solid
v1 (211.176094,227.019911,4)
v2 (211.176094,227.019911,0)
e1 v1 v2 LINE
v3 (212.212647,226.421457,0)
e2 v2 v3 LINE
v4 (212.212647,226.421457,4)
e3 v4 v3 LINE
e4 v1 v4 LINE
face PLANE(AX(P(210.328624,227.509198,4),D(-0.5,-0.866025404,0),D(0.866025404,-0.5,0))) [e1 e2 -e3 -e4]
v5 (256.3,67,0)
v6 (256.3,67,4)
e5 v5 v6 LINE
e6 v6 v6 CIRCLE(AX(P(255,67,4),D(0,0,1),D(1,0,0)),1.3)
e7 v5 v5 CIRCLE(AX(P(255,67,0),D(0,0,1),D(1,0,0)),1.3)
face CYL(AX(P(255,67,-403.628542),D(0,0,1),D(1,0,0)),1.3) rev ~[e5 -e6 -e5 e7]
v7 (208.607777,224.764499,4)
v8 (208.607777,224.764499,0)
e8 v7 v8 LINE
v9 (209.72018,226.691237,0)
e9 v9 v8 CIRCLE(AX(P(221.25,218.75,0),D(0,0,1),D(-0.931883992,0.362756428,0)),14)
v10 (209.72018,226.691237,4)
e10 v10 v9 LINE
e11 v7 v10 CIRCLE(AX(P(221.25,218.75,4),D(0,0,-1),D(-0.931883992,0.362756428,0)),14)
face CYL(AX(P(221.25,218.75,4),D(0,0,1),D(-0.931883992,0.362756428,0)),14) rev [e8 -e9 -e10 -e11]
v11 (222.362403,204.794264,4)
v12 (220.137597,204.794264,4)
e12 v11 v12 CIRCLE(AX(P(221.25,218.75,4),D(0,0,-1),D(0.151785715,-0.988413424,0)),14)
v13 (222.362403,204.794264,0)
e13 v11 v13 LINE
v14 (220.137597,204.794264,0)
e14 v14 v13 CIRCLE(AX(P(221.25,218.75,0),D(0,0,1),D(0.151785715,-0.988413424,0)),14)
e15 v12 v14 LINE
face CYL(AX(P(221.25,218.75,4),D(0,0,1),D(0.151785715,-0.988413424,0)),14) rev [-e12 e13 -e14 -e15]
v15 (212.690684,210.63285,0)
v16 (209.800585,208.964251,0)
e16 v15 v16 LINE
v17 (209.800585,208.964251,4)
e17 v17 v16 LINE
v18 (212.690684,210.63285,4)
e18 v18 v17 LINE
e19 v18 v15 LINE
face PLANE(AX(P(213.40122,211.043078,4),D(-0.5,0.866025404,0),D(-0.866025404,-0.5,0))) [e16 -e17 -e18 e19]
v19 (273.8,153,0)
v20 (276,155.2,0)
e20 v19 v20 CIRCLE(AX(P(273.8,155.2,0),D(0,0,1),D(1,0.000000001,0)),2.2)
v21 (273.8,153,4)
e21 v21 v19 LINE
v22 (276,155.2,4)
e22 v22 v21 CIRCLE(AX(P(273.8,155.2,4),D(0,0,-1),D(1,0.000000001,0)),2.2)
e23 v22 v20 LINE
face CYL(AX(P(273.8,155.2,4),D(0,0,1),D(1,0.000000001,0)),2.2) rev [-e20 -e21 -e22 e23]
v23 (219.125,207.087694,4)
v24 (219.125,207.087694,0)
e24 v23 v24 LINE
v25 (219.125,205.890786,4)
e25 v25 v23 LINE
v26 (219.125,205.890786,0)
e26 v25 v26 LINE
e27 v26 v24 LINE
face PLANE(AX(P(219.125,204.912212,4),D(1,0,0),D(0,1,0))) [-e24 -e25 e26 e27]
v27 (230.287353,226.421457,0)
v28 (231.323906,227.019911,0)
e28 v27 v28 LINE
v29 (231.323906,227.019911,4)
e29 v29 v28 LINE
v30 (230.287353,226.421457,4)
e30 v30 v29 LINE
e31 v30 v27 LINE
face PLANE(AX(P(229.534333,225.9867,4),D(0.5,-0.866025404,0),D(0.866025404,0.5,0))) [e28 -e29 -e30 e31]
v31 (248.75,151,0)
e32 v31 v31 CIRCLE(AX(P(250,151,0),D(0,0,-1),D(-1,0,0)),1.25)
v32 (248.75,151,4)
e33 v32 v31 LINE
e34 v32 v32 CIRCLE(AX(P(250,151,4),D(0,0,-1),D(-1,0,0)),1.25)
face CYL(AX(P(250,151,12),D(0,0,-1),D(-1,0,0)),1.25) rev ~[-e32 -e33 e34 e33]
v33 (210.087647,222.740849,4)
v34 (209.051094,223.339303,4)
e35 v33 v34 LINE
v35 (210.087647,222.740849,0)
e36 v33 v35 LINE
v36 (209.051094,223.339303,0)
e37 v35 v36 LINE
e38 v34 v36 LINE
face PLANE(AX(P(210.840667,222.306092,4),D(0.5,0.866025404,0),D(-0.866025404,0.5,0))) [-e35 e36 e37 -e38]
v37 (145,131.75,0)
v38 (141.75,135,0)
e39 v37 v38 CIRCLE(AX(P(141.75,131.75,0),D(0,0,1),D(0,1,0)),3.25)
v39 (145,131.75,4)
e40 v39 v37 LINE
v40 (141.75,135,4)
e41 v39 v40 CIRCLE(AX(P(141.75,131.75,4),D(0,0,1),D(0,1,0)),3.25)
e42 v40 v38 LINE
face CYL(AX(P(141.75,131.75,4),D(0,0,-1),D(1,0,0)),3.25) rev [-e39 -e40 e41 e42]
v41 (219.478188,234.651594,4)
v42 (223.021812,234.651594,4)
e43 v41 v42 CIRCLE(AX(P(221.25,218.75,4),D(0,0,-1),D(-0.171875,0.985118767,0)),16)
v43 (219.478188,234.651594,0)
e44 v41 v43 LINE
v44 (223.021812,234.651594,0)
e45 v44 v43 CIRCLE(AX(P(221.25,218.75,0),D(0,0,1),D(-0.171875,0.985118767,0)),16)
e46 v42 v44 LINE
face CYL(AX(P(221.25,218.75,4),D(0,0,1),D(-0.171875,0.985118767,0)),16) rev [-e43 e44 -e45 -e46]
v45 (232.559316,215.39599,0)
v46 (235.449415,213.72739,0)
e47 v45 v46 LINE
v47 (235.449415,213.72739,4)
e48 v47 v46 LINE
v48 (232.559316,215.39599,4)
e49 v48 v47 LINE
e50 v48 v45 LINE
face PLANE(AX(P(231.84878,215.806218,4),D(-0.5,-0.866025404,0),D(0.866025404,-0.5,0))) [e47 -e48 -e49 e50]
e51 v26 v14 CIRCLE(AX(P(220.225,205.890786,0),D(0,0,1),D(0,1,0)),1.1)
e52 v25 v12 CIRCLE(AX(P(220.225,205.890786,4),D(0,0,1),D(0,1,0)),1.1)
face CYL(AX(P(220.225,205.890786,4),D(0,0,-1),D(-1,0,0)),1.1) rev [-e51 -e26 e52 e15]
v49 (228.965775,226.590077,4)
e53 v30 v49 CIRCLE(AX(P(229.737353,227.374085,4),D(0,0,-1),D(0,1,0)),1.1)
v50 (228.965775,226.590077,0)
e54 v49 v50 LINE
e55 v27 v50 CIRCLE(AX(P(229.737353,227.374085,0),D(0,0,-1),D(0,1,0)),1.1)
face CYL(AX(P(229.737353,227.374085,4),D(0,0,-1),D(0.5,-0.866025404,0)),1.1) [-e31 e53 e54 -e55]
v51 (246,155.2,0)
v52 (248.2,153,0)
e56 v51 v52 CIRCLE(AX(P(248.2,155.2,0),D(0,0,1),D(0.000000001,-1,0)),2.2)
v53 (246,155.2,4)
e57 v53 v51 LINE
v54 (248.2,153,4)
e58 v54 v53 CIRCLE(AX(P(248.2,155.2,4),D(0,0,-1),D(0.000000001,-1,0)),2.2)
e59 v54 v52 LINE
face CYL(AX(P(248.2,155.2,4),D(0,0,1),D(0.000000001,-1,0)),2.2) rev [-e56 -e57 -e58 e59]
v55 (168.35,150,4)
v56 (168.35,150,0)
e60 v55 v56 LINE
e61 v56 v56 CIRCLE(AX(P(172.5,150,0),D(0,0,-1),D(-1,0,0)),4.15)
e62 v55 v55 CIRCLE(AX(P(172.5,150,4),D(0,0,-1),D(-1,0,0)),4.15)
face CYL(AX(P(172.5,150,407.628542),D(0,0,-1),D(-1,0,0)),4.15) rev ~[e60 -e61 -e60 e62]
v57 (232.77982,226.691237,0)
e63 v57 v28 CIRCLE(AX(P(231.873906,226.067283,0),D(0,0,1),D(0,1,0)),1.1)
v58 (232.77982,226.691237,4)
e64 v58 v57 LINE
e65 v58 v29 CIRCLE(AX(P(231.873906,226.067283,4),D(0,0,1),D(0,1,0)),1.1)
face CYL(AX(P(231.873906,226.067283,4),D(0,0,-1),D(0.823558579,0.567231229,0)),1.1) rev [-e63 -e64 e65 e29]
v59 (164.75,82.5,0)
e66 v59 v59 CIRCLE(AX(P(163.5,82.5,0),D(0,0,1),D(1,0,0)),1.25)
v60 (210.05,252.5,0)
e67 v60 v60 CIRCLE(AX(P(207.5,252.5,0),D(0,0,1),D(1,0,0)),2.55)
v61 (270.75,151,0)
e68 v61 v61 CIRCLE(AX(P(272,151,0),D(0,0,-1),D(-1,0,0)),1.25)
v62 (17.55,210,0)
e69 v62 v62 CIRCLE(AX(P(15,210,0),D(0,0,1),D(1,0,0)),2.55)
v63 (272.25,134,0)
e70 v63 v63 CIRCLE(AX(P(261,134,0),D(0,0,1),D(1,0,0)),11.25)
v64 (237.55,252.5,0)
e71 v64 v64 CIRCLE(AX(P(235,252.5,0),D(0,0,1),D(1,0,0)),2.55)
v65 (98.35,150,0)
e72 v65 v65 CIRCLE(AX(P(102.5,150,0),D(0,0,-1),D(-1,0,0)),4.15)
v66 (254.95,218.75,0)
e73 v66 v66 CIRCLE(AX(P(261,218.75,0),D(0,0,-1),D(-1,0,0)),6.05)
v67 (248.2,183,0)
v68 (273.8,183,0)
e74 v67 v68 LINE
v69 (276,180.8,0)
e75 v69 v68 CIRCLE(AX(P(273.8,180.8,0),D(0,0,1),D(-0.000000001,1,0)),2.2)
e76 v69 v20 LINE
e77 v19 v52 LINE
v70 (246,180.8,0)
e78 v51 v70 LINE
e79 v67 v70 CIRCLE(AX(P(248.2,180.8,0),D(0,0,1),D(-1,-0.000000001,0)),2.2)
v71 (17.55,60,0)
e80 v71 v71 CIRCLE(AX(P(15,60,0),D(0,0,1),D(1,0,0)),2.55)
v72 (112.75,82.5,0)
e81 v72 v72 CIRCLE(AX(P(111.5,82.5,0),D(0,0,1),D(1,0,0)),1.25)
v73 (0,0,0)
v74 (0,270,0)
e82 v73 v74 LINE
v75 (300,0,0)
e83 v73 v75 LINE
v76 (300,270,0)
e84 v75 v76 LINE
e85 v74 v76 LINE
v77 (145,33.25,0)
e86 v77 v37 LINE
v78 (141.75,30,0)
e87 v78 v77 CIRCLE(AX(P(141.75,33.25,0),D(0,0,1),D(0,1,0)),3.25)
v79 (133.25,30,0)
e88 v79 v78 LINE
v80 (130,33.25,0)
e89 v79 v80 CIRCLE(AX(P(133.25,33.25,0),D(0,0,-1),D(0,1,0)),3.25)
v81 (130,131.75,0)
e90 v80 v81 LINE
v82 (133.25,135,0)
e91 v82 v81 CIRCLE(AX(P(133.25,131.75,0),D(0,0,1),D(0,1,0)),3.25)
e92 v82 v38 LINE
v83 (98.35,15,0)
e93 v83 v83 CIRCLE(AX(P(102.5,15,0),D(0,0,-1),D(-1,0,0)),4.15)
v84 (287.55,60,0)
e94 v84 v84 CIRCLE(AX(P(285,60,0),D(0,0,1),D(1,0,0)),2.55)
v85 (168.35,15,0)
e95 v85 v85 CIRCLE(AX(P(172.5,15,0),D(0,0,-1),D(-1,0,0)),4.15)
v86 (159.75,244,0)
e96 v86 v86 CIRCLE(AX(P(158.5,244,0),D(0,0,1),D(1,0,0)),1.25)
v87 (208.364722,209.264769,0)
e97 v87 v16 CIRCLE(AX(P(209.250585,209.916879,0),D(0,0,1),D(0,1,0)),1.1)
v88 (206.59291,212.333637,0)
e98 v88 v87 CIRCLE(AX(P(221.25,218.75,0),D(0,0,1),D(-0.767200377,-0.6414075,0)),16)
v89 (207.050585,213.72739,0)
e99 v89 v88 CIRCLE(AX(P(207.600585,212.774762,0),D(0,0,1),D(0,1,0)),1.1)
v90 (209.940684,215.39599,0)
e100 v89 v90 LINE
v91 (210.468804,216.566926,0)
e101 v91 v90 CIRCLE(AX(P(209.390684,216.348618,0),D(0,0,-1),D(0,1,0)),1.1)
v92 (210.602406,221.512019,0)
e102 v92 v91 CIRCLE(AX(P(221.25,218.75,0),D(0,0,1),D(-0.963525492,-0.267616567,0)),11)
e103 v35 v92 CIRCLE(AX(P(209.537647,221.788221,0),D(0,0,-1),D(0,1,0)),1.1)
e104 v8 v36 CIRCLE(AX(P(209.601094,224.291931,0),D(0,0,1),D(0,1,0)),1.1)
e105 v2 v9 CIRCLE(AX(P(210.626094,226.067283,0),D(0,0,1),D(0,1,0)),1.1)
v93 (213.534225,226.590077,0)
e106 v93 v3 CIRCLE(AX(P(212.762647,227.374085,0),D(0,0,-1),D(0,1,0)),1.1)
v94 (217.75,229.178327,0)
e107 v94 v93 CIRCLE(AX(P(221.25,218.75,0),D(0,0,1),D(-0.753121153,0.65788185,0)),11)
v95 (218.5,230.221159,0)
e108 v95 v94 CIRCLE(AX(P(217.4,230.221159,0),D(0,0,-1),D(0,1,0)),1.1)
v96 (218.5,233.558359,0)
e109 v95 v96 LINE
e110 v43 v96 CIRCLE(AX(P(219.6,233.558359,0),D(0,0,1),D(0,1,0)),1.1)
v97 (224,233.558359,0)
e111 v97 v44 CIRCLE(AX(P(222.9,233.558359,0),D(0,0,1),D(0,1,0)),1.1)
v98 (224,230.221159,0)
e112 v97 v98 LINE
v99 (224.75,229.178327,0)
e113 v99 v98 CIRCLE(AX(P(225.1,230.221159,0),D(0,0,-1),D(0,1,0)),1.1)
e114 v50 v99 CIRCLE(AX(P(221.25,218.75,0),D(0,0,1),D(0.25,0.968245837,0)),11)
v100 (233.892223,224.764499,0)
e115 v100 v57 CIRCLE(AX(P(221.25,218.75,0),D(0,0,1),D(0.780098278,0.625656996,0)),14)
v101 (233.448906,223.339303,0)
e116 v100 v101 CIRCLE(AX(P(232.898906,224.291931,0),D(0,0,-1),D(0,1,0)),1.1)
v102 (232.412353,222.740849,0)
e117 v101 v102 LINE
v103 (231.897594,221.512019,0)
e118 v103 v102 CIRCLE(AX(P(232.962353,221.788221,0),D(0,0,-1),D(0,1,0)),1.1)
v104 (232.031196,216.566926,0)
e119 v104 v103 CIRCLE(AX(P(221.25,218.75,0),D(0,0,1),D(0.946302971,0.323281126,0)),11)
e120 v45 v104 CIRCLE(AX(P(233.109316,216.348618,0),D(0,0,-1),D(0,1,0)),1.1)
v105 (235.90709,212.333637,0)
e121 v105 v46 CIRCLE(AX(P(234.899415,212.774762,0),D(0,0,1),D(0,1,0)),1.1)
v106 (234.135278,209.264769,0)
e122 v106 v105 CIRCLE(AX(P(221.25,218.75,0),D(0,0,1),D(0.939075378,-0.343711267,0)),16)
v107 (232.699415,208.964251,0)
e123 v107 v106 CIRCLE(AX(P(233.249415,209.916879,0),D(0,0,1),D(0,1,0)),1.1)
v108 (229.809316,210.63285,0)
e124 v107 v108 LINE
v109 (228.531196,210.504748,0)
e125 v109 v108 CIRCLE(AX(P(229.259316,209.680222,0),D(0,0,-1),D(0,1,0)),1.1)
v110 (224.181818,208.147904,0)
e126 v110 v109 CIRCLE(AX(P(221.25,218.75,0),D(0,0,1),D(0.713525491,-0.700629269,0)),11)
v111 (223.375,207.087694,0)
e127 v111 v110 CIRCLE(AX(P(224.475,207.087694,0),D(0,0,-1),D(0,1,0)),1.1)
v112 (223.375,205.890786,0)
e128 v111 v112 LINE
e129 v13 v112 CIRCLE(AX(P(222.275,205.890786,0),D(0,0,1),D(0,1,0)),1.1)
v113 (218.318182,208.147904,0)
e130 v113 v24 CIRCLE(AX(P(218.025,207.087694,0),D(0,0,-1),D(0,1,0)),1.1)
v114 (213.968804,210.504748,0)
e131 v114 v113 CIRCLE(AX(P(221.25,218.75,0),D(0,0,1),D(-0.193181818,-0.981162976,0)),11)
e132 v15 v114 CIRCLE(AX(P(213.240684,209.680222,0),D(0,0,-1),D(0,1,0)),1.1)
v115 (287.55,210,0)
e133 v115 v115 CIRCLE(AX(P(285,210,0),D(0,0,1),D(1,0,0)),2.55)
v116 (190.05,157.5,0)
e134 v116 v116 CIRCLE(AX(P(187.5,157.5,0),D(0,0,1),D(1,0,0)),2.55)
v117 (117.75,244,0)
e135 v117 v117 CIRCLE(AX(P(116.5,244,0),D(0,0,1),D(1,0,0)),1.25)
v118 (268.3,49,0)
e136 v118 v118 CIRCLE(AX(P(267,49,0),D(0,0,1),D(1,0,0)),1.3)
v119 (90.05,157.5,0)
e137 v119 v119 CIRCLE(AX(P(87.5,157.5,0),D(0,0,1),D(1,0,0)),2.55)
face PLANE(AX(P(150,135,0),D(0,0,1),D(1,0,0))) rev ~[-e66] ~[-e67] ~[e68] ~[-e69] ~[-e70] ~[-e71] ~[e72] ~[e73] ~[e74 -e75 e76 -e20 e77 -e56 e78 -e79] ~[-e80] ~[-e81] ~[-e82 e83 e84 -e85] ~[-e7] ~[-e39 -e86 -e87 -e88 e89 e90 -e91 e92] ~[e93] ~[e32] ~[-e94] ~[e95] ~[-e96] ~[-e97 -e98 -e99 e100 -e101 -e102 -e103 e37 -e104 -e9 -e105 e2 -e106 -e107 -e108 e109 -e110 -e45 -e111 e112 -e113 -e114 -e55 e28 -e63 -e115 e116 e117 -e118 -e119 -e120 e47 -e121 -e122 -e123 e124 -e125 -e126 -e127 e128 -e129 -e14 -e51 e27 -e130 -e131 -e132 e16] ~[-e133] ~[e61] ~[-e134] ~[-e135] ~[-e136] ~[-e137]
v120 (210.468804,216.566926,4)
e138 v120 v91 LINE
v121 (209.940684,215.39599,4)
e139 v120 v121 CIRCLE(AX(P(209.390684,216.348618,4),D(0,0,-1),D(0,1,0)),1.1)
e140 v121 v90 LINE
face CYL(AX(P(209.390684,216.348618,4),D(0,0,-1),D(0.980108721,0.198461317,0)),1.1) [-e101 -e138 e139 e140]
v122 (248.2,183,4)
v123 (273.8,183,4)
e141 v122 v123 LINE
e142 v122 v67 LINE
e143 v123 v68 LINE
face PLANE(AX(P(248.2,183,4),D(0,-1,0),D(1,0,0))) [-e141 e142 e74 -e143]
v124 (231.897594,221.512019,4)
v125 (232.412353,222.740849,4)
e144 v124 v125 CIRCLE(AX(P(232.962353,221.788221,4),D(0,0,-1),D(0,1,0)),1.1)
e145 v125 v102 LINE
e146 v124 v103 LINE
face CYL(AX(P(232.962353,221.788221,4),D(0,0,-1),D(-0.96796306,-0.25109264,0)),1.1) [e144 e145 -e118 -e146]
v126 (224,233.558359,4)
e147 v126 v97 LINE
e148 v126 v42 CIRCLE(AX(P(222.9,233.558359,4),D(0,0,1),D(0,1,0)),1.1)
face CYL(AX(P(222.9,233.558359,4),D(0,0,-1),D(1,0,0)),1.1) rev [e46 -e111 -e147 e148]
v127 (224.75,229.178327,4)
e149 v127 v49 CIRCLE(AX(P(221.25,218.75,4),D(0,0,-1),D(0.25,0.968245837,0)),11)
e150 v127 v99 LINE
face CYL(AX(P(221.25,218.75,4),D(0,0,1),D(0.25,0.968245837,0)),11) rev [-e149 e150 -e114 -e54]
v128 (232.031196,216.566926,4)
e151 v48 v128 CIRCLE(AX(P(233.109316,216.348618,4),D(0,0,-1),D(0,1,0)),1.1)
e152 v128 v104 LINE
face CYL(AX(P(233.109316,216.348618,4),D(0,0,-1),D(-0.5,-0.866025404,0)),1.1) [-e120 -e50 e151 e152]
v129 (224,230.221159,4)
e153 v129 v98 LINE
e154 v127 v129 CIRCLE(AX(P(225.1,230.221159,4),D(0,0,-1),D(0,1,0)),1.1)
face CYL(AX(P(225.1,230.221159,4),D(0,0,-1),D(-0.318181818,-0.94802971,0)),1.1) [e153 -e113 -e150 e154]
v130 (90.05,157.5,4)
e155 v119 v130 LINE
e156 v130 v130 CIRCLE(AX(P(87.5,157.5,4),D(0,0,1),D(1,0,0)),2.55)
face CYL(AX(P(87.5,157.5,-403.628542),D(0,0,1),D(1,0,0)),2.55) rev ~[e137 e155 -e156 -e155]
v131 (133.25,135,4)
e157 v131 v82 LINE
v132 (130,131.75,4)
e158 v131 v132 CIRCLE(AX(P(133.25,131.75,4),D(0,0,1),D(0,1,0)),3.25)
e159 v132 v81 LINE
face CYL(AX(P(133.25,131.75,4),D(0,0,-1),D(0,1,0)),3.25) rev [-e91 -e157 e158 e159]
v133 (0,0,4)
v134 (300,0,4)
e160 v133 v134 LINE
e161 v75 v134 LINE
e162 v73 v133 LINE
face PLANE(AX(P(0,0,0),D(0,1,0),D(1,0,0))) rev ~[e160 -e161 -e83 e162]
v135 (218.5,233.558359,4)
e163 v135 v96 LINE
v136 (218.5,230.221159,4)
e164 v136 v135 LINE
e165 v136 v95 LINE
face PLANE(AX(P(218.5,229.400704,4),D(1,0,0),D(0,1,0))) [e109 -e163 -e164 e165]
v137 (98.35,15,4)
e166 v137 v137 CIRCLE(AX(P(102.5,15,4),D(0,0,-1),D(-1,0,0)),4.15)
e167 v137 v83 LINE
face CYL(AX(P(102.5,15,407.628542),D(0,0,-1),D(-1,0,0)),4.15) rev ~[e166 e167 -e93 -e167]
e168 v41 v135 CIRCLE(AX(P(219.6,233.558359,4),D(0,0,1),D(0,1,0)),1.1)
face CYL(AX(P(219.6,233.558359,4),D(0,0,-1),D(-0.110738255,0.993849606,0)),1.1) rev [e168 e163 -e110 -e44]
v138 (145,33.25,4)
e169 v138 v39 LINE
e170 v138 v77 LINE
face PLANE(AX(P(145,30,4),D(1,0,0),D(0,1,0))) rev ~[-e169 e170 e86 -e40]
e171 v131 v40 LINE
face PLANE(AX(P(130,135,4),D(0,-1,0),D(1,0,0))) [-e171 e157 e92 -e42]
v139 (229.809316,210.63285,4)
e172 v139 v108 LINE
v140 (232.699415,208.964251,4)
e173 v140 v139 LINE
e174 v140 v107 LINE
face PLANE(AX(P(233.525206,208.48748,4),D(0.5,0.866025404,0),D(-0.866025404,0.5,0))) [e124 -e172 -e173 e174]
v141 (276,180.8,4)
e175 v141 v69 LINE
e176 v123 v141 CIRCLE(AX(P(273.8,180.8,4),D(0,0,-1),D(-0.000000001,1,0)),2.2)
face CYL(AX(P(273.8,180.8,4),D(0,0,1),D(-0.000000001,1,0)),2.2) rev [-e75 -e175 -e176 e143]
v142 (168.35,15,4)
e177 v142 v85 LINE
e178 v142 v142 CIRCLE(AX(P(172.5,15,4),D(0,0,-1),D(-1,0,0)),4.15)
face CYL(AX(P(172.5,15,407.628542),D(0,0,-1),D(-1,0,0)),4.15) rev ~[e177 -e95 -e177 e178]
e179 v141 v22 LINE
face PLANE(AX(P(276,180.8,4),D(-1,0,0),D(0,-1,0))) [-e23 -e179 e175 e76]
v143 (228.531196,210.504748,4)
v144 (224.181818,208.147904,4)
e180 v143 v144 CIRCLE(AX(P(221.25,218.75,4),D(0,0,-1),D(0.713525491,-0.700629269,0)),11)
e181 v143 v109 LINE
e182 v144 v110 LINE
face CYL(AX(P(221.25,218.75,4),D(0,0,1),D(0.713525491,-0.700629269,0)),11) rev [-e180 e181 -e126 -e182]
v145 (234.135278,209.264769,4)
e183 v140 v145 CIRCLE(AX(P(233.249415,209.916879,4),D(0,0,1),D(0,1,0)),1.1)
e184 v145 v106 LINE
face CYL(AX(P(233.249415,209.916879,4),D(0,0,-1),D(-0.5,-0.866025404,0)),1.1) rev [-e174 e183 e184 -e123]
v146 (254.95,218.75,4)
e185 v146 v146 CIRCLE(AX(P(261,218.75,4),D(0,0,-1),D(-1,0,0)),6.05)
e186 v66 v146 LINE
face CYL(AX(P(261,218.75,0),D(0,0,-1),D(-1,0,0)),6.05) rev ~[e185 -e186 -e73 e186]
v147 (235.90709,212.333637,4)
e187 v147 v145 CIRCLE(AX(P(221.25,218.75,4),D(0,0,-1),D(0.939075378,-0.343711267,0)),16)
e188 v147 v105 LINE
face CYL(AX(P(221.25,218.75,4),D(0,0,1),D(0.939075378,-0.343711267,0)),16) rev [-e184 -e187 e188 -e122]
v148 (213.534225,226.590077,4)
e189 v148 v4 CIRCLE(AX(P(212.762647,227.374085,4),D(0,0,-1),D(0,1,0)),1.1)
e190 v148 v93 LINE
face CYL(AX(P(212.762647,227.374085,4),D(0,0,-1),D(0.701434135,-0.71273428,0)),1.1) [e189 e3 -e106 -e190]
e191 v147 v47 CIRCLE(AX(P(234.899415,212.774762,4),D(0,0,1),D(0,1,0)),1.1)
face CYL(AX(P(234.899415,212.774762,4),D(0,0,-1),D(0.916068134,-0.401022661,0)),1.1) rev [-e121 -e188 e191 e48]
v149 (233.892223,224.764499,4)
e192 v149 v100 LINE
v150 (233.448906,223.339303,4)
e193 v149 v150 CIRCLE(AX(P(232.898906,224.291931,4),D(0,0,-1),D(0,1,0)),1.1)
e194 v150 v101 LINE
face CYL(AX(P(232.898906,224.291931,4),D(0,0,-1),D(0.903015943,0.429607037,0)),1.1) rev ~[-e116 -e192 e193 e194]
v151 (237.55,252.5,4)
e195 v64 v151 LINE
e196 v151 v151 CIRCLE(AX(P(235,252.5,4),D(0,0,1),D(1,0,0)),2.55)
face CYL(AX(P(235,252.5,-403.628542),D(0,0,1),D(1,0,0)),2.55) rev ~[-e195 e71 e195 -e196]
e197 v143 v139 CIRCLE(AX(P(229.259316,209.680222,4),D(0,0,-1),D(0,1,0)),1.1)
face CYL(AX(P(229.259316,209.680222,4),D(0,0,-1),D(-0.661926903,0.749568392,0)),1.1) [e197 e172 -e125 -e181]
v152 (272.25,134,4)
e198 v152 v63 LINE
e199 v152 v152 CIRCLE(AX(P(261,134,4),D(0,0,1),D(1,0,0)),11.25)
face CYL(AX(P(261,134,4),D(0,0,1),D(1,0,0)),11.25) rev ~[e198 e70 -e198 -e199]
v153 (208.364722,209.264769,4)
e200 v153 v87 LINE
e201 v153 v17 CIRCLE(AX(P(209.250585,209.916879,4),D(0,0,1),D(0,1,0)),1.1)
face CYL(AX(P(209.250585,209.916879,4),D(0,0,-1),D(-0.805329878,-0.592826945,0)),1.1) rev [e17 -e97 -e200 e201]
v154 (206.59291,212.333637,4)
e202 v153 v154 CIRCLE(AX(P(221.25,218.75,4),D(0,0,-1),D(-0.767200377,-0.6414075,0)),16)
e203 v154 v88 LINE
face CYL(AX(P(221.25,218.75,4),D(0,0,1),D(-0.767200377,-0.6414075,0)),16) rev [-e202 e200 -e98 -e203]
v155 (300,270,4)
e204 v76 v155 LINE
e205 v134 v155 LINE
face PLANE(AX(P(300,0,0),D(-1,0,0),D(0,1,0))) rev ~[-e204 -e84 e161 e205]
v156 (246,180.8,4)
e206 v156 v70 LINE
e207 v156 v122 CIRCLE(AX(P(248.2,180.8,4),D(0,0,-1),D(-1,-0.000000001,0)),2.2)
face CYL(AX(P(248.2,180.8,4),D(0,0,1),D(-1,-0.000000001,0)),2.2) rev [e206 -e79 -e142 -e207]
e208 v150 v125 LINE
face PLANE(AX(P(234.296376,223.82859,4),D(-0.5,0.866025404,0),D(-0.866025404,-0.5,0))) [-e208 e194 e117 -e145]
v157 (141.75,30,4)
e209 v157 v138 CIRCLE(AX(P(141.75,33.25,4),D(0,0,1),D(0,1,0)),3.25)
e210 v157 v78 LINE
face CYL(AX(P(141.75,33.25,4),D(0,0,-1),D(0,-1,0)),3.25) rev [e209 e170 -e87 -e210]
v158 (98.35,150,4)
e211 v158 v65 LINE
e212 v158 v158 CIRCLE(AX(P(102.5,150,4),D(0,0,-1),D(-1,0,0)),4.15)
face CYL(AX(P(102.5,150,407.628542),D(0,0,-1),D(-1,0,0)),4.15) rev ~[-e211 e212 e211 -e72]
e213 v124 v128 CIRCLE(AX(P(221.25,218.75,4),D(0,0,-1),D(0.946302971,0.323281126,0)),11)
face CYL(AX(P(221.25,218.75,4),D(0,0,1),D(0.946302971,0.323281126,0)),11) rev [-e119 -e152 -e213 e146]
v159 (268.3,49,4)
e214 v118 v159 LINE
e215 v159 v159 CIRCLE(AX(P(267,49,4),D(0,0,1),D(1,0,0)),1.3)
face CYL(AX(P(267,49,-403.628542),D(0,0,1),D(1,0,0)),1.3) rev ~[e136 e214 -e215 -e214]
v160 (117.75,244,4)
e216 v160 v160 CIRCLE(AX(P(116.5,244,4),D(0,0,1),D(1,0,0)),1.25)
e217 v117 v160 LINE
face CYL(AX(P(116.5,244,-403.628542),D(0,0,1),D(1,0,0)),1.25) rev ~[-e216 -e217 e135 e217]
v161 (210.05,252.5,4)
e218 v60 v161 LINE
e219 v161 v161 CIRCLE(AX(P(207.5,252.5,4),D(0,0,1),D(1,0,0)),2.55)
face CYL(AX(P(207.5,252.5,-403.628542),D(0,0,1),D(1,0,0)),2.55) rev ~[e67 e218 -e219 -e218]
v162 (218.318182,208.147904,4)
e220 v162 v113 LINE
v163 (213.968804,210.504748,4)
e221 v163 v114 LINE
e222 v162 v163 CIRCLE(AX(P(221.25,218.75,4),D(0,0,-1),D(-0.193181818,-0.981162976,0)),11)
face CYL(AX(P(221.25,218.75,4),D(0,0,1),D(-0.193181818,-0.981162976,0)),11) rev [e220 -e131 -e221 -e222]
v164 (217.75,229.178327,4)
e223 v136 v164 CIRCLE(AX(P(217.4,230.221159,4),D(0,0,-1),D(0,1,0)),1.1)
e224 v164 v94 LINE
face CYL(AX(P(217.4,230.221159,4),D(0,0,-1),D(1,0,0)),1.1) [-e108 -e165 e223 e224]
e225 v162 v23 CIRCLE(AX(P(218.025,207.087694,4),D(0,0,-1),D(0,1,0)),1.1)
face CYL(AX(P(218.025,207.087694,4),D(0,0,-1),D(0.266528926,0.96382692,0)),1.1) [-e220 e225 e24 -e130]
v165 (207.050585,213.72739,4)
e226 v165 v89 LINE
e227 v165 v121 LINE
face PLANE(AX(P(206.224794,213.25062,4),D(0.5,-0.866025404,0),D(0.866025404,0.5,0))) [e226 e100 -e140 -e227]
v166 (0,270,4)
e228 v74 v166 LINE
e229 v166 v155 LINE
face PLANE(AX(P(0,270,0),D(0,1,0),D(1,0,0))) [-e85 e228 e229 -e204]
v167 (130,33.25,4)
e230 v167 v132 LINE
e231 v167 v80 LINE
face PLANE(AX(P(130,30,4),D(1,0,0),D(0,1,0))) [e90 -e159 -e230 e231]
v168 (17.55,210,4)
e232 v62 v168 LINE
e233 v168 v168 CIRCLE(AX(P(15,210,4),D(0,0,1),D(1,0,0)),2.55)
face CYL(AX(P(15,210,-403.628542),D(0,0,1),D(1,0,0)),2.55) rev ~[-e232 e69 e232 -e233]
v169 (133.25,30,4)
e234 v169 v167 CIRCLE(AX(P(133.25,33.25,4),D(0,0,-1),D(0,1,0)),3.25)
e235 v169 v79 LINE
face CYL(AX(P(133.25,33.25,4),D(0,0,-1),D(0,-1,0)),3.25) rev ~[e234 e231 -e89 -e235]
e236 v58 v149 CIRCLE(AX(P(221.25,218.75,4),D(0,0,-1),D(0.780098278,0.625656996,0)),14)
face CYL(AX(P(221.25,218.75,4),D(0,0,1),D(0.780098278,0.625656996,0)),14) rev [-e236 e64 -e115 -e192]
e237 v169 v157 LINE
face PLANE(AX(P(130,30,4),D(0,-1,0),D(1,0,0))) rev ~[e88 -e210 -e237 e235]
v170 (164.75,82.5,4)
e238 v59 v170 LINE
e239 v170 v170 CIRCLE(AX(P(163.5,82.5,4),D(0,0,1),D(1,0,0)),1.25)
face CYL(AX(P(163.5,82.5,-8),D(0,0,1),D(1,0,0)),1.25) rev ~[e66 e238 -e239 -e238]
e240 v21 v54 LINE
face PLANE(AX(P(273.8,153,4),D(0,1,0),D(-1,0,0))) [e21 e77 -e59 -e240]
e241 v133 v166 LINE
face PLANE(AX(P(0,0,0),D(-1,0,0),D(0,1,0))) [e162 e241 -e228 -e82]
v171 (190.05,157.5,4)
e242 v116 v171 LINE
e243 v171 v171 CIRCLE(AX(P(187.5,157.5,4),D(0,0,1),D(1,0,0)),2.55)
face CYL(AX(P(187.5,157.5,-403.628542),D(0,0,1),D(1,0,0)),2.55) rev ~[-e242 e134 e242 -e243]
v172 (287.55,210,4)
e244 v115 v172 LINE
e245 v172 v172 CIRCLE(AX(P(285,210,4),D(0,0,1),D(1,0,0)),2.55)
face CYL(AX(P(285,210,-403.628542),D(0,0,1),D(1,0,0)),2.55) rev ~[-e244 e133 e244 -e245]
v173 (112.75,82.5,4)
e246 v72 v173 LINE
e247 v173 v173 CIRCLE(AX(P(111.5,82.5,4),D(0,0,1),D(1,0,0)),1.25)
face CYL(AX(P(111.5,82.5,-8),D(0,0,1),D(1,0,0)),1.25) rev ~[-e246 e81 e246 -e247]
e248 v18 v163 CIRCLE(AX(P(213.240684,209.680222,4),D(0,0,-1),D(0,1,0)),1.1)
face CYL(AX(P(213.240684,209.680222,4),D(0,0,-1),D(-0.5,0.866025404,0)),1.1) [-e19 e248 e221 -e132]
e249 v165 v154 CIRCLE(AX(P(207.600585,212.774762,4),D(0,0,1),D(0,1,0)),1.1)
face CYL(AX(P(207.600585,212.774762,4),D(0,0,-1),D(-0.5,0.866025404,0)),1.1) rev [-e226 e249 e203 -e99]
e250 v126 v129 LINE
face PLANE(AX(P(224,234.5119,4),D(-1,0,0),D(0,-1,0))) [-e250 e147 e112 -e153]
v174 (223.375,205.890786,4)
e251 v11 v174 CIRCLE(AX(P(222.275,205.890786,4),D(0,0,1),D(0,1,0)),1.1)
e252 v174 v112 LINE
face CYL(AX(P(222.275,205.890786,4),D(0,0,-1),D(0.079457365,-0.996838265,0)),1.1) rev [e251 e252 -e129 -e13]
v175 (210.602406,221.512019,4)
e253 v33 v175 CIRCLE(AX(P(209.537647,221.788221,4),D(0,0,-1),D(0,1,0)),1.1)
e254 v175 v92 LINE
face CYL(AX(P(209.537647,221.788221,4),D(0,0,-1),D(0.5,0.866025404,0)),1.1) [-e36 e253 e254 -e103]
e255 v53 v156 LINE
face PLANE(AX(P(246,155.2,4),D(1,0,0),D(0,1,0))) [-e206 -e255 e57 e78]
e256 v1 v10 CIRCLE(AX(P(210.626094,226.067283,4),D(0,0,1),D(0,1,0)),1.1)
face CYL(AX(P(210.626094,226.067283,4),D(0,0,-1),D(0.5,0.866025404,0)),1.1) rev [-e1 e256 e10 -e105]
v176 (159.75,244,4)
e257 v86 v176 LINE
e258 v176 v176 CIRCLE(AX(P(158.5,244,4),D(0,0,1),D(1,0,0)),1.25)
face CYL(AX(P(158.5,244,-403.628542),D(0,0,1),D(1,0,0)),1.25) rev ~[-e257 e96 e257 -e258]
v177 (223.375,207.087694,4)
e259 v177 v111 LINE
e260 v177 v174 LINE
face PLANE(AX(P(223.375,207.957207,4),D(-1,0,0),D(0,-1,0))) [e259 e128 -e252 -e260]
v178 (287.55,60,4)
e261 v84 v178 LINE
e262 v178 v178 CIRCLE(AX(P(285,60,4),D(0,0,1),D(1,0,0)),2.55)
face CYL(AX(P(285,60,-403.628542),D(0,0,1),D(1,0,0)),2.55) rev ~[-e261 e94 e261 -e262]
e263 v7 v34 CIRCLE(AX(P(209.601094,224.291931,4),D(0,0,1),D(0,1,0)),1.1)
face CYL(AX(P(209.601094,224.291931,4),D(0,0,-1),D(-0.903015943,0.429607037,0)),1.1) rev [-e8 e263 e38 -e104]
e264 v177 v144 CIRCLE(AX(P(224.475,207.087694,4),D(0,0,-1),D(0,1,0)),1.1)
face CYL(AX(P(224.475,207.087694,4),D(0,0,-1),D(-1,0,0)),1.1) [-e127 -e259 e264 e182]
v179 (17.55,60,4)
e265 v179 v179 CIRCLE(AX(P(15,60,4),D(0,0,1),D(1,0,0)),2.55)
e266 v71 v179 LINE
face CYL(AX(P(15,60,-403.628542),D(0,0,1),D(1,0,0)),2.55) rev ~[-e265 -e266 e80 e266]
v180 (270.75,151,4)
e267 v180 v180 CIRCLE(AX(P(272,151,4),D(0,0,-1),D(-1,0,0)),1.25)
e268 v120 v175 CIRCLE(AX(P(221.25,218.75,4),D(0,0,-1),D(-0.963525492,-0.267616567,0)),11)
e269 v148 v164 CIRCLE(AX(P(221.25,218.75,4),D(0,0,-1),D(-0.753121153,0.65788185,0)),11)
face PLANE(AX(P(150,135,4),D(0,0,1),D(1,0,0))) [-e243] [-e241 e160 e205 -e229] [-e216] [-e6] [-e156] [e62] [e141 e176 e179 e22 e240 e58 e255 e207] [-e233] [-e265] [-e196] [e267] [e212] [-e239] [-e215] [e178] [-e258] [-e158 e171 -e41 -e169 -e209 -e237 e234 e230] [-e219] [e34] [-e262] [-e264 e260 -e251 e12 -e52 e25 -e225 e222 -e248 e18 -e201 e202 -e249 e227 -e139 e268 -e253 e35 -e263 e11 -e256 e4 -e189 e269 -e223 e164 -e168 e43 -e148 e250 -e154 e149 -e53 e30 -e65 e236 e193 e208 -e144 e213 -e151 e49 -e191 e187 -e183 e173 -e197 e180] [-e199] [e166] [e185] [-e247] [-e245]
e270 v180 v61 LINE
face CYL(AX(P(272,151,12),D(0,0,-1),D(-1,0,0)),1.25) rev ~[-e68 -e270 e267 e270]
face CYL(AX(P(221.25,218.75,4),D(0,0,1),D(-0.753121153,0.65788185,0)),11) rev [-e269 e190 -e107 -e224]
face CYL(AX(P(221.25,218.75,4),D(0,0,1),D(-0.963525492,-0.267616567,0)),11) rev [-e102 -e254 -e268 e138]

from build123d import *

# Parameters (mm, degrees)
SKIZZE1_W                        = 300
SKIZZE1_H                        = 270
AUFSATZ_LINEAR_AUSTRAGEN1_DEPTH  = 4
F_8_3_8_3_DURCHMESSER_BOHRUNG1_D = 8.3
F_5_1_5_1_DURCHMESSER_BOHRUNG2_D = 5.1
SKIZZE9_W                        = 15
SKIZZE9_H                        = 105
SCHNITT_LINEAR_AUSTRAGEN1_DEPTH  = 11
VERRUNDUNG1_R                    = 3.25
M4_GEWINDEBOHRUNG1_D             = 2.5
SCHNITT_LINEAR_AUSTRAGEN2_DEPTH  = 404.628542103
VERRUNDUNG2_R                    = 1.1
F_5_1_5_1_DURCHMESSER_BOHRUNG1_D = 5.1
SCHNITT_LINEAR_AUSTRAGEN3_REACH  = 405.629
SKIZZE16_R                       = 10.5
SCHNITT_LINEAR_AUSTRAGEN4_REACH  = 405.629
SKIZZE17_R                       = 12
SKIZZE18_R                       = 11.25
SCHNITT_LINEAR_AUSTRAGEN5_DEPTH  = 6.5
SCHNITT_LINEAR_AUSTRAGEN6_DEPTH  = 6
F_2_6_2_6_DURCHMESSER_BOHRUNG1_D = 2.6
SCHNITT_LINEAR_AUSTRAGEN7_REACH  = 405.629
SKIZZE23_R                       = 6.05
M3_GEWINDEBOHRUNG1_D             = 2.5
M3_GEWINDEBOHRUNG1_DEPTH         = 8
M3_GEWINDEBOHRUNG1_TIP           = 0.751075774
M3_GEWINDEBOHRUNG2_D             = 2.5
M3_GEWINDEBOHRUNG2_DEPTH         = 8
M3_GEWINDEBOHRUNG2_TIP           = 0.751075774


with BuildPart() as part:
    # Skizze1 → Aufsatz-Linear austragen1 (new body)
    with BuildSketch(Plane.XY):
        with Locations((150, 135)):
            Rectangle(SKIZZE1_W, SKIZZE1_H)
    extrude(amount=AUFSATZ_LINEAR_AUSTRAGEN1_DEPTH)

    # Ø8.3 (8.3) Durchmesser Bohrung1 (through all)
    with Locations(Plane.XY.offset(4)):
        with Locations((102.5, 15), (172.5, 15), (172.5, 150), (102.5, 150)):
            Hole(F_8_3_8_3_DURCHMESSER_BOHRUNG1_D / 2)

    # Ø5.1 (5.1) Durchmesser Bohrung2 (through all)
    with Locations(Plane(origin=(0, 0, 0), x_dir=(-1, 0, 0), z_dir=(0, 0, -1))):
        with Locations((-235, 252.5), (-87.5, 157.5), (-187.5, 157.5), (-207.5, 252.5)):
            Hole(F_5_1_5_1_DURCHMESSER_BOHRUNG2_D / 2)

    # Skizze9 → Schnitt-Linear austragen1 (cut)
    with BuildSketch(Plane.XY.offset(4)):
        with Locations((137.5, 82.5)):
            Rectangle(SKIZZE9_W, SKIZZE9_H)
    extrude(amount=-SCHNITT_LINEAR_AUSTRAGEN1_DEPTH, mode=Mode.SUBTRACT)

    # Verrundung1
    verrundung1_edges = [part.edges().sort_by_distance(p)[0] for p in [
        (145, 135, 2),
        (145, 30, 2),
        (130, 30, 2),
        (130, 135, 2),
    ]]
    fillet(verrundung1_edges, radius=VERRUNDUNG1_R)

    # M4 Gewindebohrung1 (through all)
    with Locations(Plane(origin=(0, 0, 0), x_dir=(-1, 0, 0), z_dir=(0, 0, -1))):
        with Locations((-158.5, 244), (-116.5, 244)):
            Hole(M4_GEWINDEBOHRUNG1_D / 2)

    # Skizze14 → Schnitt-Linear austragen2 (cut, through all)
    with BuildSketch(Plane.XY.offset(4)):
        with BuildLine():
            Line((234.296375886, 223.828589986), (231.659332685, 222.306092384))
            ThreePointArc((231.659332685, 222.306092384), (232.245330666, 219.070473927), (231.848780407, 215.806217759))
            Line((231.848780407, 215.806217759), (236.275206042, 213.250619727))
            ThreePointArc((236.275206042, 213.250619727), (235.106406461, 210.75), (233.525206042, 208.487480007))
            Line((233.525206042, 208.487480007), (229.098780407, 211.043078039))
            ThreePointArc((229.098780407, 211.043078039), (226.470126771, 209.067527357), (223.375, 207.957207266))
            Line((223.375, 207.957207266), (223.375, 204.912212063))
            ThreePointArc((223.375, 204.912212063), (221.25, 204.75), (219.125, 204.912212063))
            Line((219.125, 204.912212063), (219.125, 207.957207266))
            ThreePointArc((219.125, 207.957207266), (216.029873229, 209.067527357), (213.401219593, 211.043078039))
            Line((213.401219593, 211.043078039), (208.974793958, 208.487480007))
            ThreePointArc((208.974793958, 208.487480007), (207.393593539, 210.75), (206.224793958, 213.250619727))
            Line((206.224793958, 213.250619727), (210.651219593, 215.806217759))
            ThreePointArc((210.651219593, 215.806217759), (210.254669334, 219.070473927), (210.840667315, 222.306092384))
            Line((210.840667315, 222.306092384), (208.203624114, 223.828589986))
            ThreePointArc((208.203624114, 223.828589986), (209.125644347, 225.75), (210.328624114, 227.509197952))
            Line((210.328624114, 227.509197952), (212.965667315, 225.98670035))
            ThreePointArc((212.965667315, 225.98670035), (215.474796105, 228.111998717), (218.5, 229.400704202))
            Line((218.5, 229.400704202), (218.5, 234.511900266))
            ThreePointArc((218.5, 234.511900266), (221.25, 234.75), (224, 234.511900266))
            Line((224, 234.511900266), (224, 229.400704202))
            ThreePointArc((224, 229.400704202), (227.025203895, 228.111998717), (229.534332685, 225.98670035))
            Line((229.534332685, 225.98670035), (232.171375886, 227.509197952))
            ThreePointArc((232.171375886, 227.509197952), (233.374355653, 225.75), (234.296375886, 223.828589986))
        make_face()
    extrude(amount=-SCHNITT_LINEAR_AUSTRAGEN2_DEPTH, mode=Mode.SUBTRACT)

    # Verrundung2
    verrundung2_edges = [part.edges().sort_by_distance(p)[0] for p in [
        (224, 229.400704202, 2),
        (229.534332685, 225.98670035, 2),
        (232.171375886, 227.509197952, 2),
        (234.296375886, 223.828589986, 2),
        (231.659332685, 222.306092384, 2),
        (231.848780407, 215.806217759, 2),
        (236.275206042, 213.250619727, 2),
        (233.525206042, 208.487480007, 2),
        (229.098780407, 211.043078039, 2),
        (223.375, 207.957207266, 2),
        (223.375, 204.912212063, 2),
        (219.125, 204.912212063, 2),
        (219.125, 207.957207266, 2),
        (213.401219593, 211.043078039, 2),
        (208.974793958, 208.487480007, 2),
        (206.224793958, 213.250619727, 2),
        (210.651219593, 215.806217759, 2),
        (210.840667315, 222.306092384, 2),
        (208.203624114, 223.828589986, 2),
        (210.328624114, 227.509197952, 2),
        (212.965667315, 225.98670035, 2),
        (218.5, 229.400704202, 2),
        (218.5, 234.511900266, 2),
        (224, 234.511900266, 2),
    ]]
    fillet(verrundung2_edges, radius=VERRUNDUNG2_R)

    # Ø5.1 (5.1) Durchmesser Bohrung1 (through all)
    with Locations(Plane(origin=(285, 210, 0), x_dir=(-1, 0, 0), z_dir=(0, 0, -1))):
        with Locations((0, 0), (0, -150), (270, 0), (270, -150)):
            Hole(F_5_1_5_1_DURCHMESSER_BOHRUNG1_D / 2)

    # Skizze16 → Schnitt-Linear austragen3 (cut, up to next)
    with BuildSketch(Plane(origin=(0, 0, 0), x_dir=(-1, 0, 0), z_dir=(0, 0, -1)), mode=Mode.PRIVATE) as schnitt_linear_austragen3_sk1:
        with Locations((-261, 134)):
            Circle(SKIZZE16_R)
    schnitt_linear_austragen3_tool1 = extrude(schnitt_linear_austragen3_sk1.sketch, amount=-SCHNITT_LINEAR_AUSTRAGEN3_REACH, mode=Mode.PRIVATE) & part.part
    add(schnitt_linear_austragen3_tool1.solids().sort_by_distance((261, 134, 0))[0], mode=Mode.SUBTRACT)

    # Skizze17 → Schnitt-Linear austragen4 (cut, up to next)
    with BuildSketch(Plane(origin=(0, 0, 0), x_dir=(-1, 0, 0), z_dir=(0, 0, -1)), mode=Mode.PRIVATE) as schnitt_linear_austragen4_sk1:
        with Locations((-261, 168)):
            Circle(SKIZZE17_R)
    schnitt_linear_austragen4_tool1 = extrude(schnitt_linear_austragen4_sk1.sketch, amount=-SCHNITT_LINEAR_AUSTRAGEN4_REACH, mode=Mode.PRIVATE) & part.part
    add(schnitt_linear_austragen4_tool1.solids().sort_by_distance((261, 168, 0))[0], mode=Mode.SUBTRACT)

    # Skizze18 → Schnitt-Linear austragen5 (cut)
    with BuildSketch(Plane.XY.offset(4)):
        with Locations((261, 134)):
            Circle(SKIZZE18_R)
    extrude(amount=-SCHNITT_LINEAR_AUSTRAGEN5_DEPTH, mode=Mode.SUBTRACT)

    # Skizze19 → Schnitt-Linear austragen6 (cut)
    with BuildSketch(Plane.XY.offset(4)):
        with BuildLine():
            Line((248.2, 183), (273.8, 183))
            ThreePointArc((273.8, 183), (275.355634919, 182.355634919), (276, 180.8))
            Line((276, 180.8), (276, 155.2))
            ThreePointArc((276, 155.2), (275.355634919, 153.644365081), (273.8, 153))
            Line((273.8, 153), (248.2, 153))
            ThreePointArc((248.2, 153), (246.644365081, 153.644365081), (246, 155.2))
            Line((246, 155.2), (246, 180.8))
            ThreePointArc((246, 180.8), (246.644365081, 182.355634919), (248.2, 183))
        make_face()
    extrude(amount=-SCHNITT_LINEAR_AUSTRAGEN6_DEPTH, mode=Mode.SUBTRACT)

    # Ø2.6 (2.6) Durchmesser Bohrung1 (through all)
    with Locations(Plane(origin=(0, 0, 0), x_dir=(-1, 0, 0), z_dir=(0, 0, -1))):
        with Locations((-255, 67), (-267, 49)):
            Hole(F_2_6_2_6_DURCHMESSER_BOHRUNG1_D / 2)

    # Skizze23 → Schnitt-Linear austragen7 (cut, up to next)
    with BuildSketch(Plane(origin=(0, 0, 0), x_dir=(-1, 0, 0), z_dir=(0, 0, -1)), mode=Mode.PRIVATE) as schnitt_linear_austragen7_sk1:
        with Locations((-261, 218.75)):
            Circle(SKIZZE23_R)
    schnitt_linear_austragen7_tool1 = extrude(schnitt_linear_austragen7_sk1.sketch, amount=-SCHNITT_LINEAR_AUSTRAGEN7_REACH, mode=Mode.PRIVATE) & part.part
    add(schnitt_linear_austragen7_tool1.solids().sort_by_distance((261, 218.75, 0))[0], mode=Mode.SUBTRACT)

    # M3 Gewindebohrung1
    with Locations(Plane.XY.offset(4)):
        with Locations((250, 151), (272, 151)):
            Hole(M3_GEWINDEBOHRUNG1_D / 2, depth=M3_GEWINDEBOHRUNG1_DEPTH)
            with Locations((0, 0, -(M3_GEWINDEBOHRUNG1_DEPTH + M3_GEWINDEBOHRUNG1_TIP / 2))):  # 118° drill point
                Cone(0, M3_GEWINDEBOHRUNG1_D / 2, M3_GEWINDEBOHRUNG1_TIP, mode=Mode.SUBTRACT)

    # M3 Gewindebohrung2
    with Locations(Plane(origin=(0, 0, 0), x_dir=(-1, 0, 0), z_dir=(0, 0, -1))):
        with Locations((-163.5, 82.5), (-111.5, 82.5)):
            Hole(M3_GEWINDEBOHRUNG2_D / 2, depth=M3_GEWINDEBOHRUNG2_DEPTH)
            with Locations((0, 0, -(M3_GEWINDEBOHRUNG2_DEPTH + M3_GEWINDEBOHRUNG2_TIP / 2))):  # 118° drill point
                Cone(0, M3_GEWINDEBOHRUNG2_D / 2, M3_GEWINDEBOHRUNG2_TIP, mode=Mode.SUBTRACT)


solid = part.part
